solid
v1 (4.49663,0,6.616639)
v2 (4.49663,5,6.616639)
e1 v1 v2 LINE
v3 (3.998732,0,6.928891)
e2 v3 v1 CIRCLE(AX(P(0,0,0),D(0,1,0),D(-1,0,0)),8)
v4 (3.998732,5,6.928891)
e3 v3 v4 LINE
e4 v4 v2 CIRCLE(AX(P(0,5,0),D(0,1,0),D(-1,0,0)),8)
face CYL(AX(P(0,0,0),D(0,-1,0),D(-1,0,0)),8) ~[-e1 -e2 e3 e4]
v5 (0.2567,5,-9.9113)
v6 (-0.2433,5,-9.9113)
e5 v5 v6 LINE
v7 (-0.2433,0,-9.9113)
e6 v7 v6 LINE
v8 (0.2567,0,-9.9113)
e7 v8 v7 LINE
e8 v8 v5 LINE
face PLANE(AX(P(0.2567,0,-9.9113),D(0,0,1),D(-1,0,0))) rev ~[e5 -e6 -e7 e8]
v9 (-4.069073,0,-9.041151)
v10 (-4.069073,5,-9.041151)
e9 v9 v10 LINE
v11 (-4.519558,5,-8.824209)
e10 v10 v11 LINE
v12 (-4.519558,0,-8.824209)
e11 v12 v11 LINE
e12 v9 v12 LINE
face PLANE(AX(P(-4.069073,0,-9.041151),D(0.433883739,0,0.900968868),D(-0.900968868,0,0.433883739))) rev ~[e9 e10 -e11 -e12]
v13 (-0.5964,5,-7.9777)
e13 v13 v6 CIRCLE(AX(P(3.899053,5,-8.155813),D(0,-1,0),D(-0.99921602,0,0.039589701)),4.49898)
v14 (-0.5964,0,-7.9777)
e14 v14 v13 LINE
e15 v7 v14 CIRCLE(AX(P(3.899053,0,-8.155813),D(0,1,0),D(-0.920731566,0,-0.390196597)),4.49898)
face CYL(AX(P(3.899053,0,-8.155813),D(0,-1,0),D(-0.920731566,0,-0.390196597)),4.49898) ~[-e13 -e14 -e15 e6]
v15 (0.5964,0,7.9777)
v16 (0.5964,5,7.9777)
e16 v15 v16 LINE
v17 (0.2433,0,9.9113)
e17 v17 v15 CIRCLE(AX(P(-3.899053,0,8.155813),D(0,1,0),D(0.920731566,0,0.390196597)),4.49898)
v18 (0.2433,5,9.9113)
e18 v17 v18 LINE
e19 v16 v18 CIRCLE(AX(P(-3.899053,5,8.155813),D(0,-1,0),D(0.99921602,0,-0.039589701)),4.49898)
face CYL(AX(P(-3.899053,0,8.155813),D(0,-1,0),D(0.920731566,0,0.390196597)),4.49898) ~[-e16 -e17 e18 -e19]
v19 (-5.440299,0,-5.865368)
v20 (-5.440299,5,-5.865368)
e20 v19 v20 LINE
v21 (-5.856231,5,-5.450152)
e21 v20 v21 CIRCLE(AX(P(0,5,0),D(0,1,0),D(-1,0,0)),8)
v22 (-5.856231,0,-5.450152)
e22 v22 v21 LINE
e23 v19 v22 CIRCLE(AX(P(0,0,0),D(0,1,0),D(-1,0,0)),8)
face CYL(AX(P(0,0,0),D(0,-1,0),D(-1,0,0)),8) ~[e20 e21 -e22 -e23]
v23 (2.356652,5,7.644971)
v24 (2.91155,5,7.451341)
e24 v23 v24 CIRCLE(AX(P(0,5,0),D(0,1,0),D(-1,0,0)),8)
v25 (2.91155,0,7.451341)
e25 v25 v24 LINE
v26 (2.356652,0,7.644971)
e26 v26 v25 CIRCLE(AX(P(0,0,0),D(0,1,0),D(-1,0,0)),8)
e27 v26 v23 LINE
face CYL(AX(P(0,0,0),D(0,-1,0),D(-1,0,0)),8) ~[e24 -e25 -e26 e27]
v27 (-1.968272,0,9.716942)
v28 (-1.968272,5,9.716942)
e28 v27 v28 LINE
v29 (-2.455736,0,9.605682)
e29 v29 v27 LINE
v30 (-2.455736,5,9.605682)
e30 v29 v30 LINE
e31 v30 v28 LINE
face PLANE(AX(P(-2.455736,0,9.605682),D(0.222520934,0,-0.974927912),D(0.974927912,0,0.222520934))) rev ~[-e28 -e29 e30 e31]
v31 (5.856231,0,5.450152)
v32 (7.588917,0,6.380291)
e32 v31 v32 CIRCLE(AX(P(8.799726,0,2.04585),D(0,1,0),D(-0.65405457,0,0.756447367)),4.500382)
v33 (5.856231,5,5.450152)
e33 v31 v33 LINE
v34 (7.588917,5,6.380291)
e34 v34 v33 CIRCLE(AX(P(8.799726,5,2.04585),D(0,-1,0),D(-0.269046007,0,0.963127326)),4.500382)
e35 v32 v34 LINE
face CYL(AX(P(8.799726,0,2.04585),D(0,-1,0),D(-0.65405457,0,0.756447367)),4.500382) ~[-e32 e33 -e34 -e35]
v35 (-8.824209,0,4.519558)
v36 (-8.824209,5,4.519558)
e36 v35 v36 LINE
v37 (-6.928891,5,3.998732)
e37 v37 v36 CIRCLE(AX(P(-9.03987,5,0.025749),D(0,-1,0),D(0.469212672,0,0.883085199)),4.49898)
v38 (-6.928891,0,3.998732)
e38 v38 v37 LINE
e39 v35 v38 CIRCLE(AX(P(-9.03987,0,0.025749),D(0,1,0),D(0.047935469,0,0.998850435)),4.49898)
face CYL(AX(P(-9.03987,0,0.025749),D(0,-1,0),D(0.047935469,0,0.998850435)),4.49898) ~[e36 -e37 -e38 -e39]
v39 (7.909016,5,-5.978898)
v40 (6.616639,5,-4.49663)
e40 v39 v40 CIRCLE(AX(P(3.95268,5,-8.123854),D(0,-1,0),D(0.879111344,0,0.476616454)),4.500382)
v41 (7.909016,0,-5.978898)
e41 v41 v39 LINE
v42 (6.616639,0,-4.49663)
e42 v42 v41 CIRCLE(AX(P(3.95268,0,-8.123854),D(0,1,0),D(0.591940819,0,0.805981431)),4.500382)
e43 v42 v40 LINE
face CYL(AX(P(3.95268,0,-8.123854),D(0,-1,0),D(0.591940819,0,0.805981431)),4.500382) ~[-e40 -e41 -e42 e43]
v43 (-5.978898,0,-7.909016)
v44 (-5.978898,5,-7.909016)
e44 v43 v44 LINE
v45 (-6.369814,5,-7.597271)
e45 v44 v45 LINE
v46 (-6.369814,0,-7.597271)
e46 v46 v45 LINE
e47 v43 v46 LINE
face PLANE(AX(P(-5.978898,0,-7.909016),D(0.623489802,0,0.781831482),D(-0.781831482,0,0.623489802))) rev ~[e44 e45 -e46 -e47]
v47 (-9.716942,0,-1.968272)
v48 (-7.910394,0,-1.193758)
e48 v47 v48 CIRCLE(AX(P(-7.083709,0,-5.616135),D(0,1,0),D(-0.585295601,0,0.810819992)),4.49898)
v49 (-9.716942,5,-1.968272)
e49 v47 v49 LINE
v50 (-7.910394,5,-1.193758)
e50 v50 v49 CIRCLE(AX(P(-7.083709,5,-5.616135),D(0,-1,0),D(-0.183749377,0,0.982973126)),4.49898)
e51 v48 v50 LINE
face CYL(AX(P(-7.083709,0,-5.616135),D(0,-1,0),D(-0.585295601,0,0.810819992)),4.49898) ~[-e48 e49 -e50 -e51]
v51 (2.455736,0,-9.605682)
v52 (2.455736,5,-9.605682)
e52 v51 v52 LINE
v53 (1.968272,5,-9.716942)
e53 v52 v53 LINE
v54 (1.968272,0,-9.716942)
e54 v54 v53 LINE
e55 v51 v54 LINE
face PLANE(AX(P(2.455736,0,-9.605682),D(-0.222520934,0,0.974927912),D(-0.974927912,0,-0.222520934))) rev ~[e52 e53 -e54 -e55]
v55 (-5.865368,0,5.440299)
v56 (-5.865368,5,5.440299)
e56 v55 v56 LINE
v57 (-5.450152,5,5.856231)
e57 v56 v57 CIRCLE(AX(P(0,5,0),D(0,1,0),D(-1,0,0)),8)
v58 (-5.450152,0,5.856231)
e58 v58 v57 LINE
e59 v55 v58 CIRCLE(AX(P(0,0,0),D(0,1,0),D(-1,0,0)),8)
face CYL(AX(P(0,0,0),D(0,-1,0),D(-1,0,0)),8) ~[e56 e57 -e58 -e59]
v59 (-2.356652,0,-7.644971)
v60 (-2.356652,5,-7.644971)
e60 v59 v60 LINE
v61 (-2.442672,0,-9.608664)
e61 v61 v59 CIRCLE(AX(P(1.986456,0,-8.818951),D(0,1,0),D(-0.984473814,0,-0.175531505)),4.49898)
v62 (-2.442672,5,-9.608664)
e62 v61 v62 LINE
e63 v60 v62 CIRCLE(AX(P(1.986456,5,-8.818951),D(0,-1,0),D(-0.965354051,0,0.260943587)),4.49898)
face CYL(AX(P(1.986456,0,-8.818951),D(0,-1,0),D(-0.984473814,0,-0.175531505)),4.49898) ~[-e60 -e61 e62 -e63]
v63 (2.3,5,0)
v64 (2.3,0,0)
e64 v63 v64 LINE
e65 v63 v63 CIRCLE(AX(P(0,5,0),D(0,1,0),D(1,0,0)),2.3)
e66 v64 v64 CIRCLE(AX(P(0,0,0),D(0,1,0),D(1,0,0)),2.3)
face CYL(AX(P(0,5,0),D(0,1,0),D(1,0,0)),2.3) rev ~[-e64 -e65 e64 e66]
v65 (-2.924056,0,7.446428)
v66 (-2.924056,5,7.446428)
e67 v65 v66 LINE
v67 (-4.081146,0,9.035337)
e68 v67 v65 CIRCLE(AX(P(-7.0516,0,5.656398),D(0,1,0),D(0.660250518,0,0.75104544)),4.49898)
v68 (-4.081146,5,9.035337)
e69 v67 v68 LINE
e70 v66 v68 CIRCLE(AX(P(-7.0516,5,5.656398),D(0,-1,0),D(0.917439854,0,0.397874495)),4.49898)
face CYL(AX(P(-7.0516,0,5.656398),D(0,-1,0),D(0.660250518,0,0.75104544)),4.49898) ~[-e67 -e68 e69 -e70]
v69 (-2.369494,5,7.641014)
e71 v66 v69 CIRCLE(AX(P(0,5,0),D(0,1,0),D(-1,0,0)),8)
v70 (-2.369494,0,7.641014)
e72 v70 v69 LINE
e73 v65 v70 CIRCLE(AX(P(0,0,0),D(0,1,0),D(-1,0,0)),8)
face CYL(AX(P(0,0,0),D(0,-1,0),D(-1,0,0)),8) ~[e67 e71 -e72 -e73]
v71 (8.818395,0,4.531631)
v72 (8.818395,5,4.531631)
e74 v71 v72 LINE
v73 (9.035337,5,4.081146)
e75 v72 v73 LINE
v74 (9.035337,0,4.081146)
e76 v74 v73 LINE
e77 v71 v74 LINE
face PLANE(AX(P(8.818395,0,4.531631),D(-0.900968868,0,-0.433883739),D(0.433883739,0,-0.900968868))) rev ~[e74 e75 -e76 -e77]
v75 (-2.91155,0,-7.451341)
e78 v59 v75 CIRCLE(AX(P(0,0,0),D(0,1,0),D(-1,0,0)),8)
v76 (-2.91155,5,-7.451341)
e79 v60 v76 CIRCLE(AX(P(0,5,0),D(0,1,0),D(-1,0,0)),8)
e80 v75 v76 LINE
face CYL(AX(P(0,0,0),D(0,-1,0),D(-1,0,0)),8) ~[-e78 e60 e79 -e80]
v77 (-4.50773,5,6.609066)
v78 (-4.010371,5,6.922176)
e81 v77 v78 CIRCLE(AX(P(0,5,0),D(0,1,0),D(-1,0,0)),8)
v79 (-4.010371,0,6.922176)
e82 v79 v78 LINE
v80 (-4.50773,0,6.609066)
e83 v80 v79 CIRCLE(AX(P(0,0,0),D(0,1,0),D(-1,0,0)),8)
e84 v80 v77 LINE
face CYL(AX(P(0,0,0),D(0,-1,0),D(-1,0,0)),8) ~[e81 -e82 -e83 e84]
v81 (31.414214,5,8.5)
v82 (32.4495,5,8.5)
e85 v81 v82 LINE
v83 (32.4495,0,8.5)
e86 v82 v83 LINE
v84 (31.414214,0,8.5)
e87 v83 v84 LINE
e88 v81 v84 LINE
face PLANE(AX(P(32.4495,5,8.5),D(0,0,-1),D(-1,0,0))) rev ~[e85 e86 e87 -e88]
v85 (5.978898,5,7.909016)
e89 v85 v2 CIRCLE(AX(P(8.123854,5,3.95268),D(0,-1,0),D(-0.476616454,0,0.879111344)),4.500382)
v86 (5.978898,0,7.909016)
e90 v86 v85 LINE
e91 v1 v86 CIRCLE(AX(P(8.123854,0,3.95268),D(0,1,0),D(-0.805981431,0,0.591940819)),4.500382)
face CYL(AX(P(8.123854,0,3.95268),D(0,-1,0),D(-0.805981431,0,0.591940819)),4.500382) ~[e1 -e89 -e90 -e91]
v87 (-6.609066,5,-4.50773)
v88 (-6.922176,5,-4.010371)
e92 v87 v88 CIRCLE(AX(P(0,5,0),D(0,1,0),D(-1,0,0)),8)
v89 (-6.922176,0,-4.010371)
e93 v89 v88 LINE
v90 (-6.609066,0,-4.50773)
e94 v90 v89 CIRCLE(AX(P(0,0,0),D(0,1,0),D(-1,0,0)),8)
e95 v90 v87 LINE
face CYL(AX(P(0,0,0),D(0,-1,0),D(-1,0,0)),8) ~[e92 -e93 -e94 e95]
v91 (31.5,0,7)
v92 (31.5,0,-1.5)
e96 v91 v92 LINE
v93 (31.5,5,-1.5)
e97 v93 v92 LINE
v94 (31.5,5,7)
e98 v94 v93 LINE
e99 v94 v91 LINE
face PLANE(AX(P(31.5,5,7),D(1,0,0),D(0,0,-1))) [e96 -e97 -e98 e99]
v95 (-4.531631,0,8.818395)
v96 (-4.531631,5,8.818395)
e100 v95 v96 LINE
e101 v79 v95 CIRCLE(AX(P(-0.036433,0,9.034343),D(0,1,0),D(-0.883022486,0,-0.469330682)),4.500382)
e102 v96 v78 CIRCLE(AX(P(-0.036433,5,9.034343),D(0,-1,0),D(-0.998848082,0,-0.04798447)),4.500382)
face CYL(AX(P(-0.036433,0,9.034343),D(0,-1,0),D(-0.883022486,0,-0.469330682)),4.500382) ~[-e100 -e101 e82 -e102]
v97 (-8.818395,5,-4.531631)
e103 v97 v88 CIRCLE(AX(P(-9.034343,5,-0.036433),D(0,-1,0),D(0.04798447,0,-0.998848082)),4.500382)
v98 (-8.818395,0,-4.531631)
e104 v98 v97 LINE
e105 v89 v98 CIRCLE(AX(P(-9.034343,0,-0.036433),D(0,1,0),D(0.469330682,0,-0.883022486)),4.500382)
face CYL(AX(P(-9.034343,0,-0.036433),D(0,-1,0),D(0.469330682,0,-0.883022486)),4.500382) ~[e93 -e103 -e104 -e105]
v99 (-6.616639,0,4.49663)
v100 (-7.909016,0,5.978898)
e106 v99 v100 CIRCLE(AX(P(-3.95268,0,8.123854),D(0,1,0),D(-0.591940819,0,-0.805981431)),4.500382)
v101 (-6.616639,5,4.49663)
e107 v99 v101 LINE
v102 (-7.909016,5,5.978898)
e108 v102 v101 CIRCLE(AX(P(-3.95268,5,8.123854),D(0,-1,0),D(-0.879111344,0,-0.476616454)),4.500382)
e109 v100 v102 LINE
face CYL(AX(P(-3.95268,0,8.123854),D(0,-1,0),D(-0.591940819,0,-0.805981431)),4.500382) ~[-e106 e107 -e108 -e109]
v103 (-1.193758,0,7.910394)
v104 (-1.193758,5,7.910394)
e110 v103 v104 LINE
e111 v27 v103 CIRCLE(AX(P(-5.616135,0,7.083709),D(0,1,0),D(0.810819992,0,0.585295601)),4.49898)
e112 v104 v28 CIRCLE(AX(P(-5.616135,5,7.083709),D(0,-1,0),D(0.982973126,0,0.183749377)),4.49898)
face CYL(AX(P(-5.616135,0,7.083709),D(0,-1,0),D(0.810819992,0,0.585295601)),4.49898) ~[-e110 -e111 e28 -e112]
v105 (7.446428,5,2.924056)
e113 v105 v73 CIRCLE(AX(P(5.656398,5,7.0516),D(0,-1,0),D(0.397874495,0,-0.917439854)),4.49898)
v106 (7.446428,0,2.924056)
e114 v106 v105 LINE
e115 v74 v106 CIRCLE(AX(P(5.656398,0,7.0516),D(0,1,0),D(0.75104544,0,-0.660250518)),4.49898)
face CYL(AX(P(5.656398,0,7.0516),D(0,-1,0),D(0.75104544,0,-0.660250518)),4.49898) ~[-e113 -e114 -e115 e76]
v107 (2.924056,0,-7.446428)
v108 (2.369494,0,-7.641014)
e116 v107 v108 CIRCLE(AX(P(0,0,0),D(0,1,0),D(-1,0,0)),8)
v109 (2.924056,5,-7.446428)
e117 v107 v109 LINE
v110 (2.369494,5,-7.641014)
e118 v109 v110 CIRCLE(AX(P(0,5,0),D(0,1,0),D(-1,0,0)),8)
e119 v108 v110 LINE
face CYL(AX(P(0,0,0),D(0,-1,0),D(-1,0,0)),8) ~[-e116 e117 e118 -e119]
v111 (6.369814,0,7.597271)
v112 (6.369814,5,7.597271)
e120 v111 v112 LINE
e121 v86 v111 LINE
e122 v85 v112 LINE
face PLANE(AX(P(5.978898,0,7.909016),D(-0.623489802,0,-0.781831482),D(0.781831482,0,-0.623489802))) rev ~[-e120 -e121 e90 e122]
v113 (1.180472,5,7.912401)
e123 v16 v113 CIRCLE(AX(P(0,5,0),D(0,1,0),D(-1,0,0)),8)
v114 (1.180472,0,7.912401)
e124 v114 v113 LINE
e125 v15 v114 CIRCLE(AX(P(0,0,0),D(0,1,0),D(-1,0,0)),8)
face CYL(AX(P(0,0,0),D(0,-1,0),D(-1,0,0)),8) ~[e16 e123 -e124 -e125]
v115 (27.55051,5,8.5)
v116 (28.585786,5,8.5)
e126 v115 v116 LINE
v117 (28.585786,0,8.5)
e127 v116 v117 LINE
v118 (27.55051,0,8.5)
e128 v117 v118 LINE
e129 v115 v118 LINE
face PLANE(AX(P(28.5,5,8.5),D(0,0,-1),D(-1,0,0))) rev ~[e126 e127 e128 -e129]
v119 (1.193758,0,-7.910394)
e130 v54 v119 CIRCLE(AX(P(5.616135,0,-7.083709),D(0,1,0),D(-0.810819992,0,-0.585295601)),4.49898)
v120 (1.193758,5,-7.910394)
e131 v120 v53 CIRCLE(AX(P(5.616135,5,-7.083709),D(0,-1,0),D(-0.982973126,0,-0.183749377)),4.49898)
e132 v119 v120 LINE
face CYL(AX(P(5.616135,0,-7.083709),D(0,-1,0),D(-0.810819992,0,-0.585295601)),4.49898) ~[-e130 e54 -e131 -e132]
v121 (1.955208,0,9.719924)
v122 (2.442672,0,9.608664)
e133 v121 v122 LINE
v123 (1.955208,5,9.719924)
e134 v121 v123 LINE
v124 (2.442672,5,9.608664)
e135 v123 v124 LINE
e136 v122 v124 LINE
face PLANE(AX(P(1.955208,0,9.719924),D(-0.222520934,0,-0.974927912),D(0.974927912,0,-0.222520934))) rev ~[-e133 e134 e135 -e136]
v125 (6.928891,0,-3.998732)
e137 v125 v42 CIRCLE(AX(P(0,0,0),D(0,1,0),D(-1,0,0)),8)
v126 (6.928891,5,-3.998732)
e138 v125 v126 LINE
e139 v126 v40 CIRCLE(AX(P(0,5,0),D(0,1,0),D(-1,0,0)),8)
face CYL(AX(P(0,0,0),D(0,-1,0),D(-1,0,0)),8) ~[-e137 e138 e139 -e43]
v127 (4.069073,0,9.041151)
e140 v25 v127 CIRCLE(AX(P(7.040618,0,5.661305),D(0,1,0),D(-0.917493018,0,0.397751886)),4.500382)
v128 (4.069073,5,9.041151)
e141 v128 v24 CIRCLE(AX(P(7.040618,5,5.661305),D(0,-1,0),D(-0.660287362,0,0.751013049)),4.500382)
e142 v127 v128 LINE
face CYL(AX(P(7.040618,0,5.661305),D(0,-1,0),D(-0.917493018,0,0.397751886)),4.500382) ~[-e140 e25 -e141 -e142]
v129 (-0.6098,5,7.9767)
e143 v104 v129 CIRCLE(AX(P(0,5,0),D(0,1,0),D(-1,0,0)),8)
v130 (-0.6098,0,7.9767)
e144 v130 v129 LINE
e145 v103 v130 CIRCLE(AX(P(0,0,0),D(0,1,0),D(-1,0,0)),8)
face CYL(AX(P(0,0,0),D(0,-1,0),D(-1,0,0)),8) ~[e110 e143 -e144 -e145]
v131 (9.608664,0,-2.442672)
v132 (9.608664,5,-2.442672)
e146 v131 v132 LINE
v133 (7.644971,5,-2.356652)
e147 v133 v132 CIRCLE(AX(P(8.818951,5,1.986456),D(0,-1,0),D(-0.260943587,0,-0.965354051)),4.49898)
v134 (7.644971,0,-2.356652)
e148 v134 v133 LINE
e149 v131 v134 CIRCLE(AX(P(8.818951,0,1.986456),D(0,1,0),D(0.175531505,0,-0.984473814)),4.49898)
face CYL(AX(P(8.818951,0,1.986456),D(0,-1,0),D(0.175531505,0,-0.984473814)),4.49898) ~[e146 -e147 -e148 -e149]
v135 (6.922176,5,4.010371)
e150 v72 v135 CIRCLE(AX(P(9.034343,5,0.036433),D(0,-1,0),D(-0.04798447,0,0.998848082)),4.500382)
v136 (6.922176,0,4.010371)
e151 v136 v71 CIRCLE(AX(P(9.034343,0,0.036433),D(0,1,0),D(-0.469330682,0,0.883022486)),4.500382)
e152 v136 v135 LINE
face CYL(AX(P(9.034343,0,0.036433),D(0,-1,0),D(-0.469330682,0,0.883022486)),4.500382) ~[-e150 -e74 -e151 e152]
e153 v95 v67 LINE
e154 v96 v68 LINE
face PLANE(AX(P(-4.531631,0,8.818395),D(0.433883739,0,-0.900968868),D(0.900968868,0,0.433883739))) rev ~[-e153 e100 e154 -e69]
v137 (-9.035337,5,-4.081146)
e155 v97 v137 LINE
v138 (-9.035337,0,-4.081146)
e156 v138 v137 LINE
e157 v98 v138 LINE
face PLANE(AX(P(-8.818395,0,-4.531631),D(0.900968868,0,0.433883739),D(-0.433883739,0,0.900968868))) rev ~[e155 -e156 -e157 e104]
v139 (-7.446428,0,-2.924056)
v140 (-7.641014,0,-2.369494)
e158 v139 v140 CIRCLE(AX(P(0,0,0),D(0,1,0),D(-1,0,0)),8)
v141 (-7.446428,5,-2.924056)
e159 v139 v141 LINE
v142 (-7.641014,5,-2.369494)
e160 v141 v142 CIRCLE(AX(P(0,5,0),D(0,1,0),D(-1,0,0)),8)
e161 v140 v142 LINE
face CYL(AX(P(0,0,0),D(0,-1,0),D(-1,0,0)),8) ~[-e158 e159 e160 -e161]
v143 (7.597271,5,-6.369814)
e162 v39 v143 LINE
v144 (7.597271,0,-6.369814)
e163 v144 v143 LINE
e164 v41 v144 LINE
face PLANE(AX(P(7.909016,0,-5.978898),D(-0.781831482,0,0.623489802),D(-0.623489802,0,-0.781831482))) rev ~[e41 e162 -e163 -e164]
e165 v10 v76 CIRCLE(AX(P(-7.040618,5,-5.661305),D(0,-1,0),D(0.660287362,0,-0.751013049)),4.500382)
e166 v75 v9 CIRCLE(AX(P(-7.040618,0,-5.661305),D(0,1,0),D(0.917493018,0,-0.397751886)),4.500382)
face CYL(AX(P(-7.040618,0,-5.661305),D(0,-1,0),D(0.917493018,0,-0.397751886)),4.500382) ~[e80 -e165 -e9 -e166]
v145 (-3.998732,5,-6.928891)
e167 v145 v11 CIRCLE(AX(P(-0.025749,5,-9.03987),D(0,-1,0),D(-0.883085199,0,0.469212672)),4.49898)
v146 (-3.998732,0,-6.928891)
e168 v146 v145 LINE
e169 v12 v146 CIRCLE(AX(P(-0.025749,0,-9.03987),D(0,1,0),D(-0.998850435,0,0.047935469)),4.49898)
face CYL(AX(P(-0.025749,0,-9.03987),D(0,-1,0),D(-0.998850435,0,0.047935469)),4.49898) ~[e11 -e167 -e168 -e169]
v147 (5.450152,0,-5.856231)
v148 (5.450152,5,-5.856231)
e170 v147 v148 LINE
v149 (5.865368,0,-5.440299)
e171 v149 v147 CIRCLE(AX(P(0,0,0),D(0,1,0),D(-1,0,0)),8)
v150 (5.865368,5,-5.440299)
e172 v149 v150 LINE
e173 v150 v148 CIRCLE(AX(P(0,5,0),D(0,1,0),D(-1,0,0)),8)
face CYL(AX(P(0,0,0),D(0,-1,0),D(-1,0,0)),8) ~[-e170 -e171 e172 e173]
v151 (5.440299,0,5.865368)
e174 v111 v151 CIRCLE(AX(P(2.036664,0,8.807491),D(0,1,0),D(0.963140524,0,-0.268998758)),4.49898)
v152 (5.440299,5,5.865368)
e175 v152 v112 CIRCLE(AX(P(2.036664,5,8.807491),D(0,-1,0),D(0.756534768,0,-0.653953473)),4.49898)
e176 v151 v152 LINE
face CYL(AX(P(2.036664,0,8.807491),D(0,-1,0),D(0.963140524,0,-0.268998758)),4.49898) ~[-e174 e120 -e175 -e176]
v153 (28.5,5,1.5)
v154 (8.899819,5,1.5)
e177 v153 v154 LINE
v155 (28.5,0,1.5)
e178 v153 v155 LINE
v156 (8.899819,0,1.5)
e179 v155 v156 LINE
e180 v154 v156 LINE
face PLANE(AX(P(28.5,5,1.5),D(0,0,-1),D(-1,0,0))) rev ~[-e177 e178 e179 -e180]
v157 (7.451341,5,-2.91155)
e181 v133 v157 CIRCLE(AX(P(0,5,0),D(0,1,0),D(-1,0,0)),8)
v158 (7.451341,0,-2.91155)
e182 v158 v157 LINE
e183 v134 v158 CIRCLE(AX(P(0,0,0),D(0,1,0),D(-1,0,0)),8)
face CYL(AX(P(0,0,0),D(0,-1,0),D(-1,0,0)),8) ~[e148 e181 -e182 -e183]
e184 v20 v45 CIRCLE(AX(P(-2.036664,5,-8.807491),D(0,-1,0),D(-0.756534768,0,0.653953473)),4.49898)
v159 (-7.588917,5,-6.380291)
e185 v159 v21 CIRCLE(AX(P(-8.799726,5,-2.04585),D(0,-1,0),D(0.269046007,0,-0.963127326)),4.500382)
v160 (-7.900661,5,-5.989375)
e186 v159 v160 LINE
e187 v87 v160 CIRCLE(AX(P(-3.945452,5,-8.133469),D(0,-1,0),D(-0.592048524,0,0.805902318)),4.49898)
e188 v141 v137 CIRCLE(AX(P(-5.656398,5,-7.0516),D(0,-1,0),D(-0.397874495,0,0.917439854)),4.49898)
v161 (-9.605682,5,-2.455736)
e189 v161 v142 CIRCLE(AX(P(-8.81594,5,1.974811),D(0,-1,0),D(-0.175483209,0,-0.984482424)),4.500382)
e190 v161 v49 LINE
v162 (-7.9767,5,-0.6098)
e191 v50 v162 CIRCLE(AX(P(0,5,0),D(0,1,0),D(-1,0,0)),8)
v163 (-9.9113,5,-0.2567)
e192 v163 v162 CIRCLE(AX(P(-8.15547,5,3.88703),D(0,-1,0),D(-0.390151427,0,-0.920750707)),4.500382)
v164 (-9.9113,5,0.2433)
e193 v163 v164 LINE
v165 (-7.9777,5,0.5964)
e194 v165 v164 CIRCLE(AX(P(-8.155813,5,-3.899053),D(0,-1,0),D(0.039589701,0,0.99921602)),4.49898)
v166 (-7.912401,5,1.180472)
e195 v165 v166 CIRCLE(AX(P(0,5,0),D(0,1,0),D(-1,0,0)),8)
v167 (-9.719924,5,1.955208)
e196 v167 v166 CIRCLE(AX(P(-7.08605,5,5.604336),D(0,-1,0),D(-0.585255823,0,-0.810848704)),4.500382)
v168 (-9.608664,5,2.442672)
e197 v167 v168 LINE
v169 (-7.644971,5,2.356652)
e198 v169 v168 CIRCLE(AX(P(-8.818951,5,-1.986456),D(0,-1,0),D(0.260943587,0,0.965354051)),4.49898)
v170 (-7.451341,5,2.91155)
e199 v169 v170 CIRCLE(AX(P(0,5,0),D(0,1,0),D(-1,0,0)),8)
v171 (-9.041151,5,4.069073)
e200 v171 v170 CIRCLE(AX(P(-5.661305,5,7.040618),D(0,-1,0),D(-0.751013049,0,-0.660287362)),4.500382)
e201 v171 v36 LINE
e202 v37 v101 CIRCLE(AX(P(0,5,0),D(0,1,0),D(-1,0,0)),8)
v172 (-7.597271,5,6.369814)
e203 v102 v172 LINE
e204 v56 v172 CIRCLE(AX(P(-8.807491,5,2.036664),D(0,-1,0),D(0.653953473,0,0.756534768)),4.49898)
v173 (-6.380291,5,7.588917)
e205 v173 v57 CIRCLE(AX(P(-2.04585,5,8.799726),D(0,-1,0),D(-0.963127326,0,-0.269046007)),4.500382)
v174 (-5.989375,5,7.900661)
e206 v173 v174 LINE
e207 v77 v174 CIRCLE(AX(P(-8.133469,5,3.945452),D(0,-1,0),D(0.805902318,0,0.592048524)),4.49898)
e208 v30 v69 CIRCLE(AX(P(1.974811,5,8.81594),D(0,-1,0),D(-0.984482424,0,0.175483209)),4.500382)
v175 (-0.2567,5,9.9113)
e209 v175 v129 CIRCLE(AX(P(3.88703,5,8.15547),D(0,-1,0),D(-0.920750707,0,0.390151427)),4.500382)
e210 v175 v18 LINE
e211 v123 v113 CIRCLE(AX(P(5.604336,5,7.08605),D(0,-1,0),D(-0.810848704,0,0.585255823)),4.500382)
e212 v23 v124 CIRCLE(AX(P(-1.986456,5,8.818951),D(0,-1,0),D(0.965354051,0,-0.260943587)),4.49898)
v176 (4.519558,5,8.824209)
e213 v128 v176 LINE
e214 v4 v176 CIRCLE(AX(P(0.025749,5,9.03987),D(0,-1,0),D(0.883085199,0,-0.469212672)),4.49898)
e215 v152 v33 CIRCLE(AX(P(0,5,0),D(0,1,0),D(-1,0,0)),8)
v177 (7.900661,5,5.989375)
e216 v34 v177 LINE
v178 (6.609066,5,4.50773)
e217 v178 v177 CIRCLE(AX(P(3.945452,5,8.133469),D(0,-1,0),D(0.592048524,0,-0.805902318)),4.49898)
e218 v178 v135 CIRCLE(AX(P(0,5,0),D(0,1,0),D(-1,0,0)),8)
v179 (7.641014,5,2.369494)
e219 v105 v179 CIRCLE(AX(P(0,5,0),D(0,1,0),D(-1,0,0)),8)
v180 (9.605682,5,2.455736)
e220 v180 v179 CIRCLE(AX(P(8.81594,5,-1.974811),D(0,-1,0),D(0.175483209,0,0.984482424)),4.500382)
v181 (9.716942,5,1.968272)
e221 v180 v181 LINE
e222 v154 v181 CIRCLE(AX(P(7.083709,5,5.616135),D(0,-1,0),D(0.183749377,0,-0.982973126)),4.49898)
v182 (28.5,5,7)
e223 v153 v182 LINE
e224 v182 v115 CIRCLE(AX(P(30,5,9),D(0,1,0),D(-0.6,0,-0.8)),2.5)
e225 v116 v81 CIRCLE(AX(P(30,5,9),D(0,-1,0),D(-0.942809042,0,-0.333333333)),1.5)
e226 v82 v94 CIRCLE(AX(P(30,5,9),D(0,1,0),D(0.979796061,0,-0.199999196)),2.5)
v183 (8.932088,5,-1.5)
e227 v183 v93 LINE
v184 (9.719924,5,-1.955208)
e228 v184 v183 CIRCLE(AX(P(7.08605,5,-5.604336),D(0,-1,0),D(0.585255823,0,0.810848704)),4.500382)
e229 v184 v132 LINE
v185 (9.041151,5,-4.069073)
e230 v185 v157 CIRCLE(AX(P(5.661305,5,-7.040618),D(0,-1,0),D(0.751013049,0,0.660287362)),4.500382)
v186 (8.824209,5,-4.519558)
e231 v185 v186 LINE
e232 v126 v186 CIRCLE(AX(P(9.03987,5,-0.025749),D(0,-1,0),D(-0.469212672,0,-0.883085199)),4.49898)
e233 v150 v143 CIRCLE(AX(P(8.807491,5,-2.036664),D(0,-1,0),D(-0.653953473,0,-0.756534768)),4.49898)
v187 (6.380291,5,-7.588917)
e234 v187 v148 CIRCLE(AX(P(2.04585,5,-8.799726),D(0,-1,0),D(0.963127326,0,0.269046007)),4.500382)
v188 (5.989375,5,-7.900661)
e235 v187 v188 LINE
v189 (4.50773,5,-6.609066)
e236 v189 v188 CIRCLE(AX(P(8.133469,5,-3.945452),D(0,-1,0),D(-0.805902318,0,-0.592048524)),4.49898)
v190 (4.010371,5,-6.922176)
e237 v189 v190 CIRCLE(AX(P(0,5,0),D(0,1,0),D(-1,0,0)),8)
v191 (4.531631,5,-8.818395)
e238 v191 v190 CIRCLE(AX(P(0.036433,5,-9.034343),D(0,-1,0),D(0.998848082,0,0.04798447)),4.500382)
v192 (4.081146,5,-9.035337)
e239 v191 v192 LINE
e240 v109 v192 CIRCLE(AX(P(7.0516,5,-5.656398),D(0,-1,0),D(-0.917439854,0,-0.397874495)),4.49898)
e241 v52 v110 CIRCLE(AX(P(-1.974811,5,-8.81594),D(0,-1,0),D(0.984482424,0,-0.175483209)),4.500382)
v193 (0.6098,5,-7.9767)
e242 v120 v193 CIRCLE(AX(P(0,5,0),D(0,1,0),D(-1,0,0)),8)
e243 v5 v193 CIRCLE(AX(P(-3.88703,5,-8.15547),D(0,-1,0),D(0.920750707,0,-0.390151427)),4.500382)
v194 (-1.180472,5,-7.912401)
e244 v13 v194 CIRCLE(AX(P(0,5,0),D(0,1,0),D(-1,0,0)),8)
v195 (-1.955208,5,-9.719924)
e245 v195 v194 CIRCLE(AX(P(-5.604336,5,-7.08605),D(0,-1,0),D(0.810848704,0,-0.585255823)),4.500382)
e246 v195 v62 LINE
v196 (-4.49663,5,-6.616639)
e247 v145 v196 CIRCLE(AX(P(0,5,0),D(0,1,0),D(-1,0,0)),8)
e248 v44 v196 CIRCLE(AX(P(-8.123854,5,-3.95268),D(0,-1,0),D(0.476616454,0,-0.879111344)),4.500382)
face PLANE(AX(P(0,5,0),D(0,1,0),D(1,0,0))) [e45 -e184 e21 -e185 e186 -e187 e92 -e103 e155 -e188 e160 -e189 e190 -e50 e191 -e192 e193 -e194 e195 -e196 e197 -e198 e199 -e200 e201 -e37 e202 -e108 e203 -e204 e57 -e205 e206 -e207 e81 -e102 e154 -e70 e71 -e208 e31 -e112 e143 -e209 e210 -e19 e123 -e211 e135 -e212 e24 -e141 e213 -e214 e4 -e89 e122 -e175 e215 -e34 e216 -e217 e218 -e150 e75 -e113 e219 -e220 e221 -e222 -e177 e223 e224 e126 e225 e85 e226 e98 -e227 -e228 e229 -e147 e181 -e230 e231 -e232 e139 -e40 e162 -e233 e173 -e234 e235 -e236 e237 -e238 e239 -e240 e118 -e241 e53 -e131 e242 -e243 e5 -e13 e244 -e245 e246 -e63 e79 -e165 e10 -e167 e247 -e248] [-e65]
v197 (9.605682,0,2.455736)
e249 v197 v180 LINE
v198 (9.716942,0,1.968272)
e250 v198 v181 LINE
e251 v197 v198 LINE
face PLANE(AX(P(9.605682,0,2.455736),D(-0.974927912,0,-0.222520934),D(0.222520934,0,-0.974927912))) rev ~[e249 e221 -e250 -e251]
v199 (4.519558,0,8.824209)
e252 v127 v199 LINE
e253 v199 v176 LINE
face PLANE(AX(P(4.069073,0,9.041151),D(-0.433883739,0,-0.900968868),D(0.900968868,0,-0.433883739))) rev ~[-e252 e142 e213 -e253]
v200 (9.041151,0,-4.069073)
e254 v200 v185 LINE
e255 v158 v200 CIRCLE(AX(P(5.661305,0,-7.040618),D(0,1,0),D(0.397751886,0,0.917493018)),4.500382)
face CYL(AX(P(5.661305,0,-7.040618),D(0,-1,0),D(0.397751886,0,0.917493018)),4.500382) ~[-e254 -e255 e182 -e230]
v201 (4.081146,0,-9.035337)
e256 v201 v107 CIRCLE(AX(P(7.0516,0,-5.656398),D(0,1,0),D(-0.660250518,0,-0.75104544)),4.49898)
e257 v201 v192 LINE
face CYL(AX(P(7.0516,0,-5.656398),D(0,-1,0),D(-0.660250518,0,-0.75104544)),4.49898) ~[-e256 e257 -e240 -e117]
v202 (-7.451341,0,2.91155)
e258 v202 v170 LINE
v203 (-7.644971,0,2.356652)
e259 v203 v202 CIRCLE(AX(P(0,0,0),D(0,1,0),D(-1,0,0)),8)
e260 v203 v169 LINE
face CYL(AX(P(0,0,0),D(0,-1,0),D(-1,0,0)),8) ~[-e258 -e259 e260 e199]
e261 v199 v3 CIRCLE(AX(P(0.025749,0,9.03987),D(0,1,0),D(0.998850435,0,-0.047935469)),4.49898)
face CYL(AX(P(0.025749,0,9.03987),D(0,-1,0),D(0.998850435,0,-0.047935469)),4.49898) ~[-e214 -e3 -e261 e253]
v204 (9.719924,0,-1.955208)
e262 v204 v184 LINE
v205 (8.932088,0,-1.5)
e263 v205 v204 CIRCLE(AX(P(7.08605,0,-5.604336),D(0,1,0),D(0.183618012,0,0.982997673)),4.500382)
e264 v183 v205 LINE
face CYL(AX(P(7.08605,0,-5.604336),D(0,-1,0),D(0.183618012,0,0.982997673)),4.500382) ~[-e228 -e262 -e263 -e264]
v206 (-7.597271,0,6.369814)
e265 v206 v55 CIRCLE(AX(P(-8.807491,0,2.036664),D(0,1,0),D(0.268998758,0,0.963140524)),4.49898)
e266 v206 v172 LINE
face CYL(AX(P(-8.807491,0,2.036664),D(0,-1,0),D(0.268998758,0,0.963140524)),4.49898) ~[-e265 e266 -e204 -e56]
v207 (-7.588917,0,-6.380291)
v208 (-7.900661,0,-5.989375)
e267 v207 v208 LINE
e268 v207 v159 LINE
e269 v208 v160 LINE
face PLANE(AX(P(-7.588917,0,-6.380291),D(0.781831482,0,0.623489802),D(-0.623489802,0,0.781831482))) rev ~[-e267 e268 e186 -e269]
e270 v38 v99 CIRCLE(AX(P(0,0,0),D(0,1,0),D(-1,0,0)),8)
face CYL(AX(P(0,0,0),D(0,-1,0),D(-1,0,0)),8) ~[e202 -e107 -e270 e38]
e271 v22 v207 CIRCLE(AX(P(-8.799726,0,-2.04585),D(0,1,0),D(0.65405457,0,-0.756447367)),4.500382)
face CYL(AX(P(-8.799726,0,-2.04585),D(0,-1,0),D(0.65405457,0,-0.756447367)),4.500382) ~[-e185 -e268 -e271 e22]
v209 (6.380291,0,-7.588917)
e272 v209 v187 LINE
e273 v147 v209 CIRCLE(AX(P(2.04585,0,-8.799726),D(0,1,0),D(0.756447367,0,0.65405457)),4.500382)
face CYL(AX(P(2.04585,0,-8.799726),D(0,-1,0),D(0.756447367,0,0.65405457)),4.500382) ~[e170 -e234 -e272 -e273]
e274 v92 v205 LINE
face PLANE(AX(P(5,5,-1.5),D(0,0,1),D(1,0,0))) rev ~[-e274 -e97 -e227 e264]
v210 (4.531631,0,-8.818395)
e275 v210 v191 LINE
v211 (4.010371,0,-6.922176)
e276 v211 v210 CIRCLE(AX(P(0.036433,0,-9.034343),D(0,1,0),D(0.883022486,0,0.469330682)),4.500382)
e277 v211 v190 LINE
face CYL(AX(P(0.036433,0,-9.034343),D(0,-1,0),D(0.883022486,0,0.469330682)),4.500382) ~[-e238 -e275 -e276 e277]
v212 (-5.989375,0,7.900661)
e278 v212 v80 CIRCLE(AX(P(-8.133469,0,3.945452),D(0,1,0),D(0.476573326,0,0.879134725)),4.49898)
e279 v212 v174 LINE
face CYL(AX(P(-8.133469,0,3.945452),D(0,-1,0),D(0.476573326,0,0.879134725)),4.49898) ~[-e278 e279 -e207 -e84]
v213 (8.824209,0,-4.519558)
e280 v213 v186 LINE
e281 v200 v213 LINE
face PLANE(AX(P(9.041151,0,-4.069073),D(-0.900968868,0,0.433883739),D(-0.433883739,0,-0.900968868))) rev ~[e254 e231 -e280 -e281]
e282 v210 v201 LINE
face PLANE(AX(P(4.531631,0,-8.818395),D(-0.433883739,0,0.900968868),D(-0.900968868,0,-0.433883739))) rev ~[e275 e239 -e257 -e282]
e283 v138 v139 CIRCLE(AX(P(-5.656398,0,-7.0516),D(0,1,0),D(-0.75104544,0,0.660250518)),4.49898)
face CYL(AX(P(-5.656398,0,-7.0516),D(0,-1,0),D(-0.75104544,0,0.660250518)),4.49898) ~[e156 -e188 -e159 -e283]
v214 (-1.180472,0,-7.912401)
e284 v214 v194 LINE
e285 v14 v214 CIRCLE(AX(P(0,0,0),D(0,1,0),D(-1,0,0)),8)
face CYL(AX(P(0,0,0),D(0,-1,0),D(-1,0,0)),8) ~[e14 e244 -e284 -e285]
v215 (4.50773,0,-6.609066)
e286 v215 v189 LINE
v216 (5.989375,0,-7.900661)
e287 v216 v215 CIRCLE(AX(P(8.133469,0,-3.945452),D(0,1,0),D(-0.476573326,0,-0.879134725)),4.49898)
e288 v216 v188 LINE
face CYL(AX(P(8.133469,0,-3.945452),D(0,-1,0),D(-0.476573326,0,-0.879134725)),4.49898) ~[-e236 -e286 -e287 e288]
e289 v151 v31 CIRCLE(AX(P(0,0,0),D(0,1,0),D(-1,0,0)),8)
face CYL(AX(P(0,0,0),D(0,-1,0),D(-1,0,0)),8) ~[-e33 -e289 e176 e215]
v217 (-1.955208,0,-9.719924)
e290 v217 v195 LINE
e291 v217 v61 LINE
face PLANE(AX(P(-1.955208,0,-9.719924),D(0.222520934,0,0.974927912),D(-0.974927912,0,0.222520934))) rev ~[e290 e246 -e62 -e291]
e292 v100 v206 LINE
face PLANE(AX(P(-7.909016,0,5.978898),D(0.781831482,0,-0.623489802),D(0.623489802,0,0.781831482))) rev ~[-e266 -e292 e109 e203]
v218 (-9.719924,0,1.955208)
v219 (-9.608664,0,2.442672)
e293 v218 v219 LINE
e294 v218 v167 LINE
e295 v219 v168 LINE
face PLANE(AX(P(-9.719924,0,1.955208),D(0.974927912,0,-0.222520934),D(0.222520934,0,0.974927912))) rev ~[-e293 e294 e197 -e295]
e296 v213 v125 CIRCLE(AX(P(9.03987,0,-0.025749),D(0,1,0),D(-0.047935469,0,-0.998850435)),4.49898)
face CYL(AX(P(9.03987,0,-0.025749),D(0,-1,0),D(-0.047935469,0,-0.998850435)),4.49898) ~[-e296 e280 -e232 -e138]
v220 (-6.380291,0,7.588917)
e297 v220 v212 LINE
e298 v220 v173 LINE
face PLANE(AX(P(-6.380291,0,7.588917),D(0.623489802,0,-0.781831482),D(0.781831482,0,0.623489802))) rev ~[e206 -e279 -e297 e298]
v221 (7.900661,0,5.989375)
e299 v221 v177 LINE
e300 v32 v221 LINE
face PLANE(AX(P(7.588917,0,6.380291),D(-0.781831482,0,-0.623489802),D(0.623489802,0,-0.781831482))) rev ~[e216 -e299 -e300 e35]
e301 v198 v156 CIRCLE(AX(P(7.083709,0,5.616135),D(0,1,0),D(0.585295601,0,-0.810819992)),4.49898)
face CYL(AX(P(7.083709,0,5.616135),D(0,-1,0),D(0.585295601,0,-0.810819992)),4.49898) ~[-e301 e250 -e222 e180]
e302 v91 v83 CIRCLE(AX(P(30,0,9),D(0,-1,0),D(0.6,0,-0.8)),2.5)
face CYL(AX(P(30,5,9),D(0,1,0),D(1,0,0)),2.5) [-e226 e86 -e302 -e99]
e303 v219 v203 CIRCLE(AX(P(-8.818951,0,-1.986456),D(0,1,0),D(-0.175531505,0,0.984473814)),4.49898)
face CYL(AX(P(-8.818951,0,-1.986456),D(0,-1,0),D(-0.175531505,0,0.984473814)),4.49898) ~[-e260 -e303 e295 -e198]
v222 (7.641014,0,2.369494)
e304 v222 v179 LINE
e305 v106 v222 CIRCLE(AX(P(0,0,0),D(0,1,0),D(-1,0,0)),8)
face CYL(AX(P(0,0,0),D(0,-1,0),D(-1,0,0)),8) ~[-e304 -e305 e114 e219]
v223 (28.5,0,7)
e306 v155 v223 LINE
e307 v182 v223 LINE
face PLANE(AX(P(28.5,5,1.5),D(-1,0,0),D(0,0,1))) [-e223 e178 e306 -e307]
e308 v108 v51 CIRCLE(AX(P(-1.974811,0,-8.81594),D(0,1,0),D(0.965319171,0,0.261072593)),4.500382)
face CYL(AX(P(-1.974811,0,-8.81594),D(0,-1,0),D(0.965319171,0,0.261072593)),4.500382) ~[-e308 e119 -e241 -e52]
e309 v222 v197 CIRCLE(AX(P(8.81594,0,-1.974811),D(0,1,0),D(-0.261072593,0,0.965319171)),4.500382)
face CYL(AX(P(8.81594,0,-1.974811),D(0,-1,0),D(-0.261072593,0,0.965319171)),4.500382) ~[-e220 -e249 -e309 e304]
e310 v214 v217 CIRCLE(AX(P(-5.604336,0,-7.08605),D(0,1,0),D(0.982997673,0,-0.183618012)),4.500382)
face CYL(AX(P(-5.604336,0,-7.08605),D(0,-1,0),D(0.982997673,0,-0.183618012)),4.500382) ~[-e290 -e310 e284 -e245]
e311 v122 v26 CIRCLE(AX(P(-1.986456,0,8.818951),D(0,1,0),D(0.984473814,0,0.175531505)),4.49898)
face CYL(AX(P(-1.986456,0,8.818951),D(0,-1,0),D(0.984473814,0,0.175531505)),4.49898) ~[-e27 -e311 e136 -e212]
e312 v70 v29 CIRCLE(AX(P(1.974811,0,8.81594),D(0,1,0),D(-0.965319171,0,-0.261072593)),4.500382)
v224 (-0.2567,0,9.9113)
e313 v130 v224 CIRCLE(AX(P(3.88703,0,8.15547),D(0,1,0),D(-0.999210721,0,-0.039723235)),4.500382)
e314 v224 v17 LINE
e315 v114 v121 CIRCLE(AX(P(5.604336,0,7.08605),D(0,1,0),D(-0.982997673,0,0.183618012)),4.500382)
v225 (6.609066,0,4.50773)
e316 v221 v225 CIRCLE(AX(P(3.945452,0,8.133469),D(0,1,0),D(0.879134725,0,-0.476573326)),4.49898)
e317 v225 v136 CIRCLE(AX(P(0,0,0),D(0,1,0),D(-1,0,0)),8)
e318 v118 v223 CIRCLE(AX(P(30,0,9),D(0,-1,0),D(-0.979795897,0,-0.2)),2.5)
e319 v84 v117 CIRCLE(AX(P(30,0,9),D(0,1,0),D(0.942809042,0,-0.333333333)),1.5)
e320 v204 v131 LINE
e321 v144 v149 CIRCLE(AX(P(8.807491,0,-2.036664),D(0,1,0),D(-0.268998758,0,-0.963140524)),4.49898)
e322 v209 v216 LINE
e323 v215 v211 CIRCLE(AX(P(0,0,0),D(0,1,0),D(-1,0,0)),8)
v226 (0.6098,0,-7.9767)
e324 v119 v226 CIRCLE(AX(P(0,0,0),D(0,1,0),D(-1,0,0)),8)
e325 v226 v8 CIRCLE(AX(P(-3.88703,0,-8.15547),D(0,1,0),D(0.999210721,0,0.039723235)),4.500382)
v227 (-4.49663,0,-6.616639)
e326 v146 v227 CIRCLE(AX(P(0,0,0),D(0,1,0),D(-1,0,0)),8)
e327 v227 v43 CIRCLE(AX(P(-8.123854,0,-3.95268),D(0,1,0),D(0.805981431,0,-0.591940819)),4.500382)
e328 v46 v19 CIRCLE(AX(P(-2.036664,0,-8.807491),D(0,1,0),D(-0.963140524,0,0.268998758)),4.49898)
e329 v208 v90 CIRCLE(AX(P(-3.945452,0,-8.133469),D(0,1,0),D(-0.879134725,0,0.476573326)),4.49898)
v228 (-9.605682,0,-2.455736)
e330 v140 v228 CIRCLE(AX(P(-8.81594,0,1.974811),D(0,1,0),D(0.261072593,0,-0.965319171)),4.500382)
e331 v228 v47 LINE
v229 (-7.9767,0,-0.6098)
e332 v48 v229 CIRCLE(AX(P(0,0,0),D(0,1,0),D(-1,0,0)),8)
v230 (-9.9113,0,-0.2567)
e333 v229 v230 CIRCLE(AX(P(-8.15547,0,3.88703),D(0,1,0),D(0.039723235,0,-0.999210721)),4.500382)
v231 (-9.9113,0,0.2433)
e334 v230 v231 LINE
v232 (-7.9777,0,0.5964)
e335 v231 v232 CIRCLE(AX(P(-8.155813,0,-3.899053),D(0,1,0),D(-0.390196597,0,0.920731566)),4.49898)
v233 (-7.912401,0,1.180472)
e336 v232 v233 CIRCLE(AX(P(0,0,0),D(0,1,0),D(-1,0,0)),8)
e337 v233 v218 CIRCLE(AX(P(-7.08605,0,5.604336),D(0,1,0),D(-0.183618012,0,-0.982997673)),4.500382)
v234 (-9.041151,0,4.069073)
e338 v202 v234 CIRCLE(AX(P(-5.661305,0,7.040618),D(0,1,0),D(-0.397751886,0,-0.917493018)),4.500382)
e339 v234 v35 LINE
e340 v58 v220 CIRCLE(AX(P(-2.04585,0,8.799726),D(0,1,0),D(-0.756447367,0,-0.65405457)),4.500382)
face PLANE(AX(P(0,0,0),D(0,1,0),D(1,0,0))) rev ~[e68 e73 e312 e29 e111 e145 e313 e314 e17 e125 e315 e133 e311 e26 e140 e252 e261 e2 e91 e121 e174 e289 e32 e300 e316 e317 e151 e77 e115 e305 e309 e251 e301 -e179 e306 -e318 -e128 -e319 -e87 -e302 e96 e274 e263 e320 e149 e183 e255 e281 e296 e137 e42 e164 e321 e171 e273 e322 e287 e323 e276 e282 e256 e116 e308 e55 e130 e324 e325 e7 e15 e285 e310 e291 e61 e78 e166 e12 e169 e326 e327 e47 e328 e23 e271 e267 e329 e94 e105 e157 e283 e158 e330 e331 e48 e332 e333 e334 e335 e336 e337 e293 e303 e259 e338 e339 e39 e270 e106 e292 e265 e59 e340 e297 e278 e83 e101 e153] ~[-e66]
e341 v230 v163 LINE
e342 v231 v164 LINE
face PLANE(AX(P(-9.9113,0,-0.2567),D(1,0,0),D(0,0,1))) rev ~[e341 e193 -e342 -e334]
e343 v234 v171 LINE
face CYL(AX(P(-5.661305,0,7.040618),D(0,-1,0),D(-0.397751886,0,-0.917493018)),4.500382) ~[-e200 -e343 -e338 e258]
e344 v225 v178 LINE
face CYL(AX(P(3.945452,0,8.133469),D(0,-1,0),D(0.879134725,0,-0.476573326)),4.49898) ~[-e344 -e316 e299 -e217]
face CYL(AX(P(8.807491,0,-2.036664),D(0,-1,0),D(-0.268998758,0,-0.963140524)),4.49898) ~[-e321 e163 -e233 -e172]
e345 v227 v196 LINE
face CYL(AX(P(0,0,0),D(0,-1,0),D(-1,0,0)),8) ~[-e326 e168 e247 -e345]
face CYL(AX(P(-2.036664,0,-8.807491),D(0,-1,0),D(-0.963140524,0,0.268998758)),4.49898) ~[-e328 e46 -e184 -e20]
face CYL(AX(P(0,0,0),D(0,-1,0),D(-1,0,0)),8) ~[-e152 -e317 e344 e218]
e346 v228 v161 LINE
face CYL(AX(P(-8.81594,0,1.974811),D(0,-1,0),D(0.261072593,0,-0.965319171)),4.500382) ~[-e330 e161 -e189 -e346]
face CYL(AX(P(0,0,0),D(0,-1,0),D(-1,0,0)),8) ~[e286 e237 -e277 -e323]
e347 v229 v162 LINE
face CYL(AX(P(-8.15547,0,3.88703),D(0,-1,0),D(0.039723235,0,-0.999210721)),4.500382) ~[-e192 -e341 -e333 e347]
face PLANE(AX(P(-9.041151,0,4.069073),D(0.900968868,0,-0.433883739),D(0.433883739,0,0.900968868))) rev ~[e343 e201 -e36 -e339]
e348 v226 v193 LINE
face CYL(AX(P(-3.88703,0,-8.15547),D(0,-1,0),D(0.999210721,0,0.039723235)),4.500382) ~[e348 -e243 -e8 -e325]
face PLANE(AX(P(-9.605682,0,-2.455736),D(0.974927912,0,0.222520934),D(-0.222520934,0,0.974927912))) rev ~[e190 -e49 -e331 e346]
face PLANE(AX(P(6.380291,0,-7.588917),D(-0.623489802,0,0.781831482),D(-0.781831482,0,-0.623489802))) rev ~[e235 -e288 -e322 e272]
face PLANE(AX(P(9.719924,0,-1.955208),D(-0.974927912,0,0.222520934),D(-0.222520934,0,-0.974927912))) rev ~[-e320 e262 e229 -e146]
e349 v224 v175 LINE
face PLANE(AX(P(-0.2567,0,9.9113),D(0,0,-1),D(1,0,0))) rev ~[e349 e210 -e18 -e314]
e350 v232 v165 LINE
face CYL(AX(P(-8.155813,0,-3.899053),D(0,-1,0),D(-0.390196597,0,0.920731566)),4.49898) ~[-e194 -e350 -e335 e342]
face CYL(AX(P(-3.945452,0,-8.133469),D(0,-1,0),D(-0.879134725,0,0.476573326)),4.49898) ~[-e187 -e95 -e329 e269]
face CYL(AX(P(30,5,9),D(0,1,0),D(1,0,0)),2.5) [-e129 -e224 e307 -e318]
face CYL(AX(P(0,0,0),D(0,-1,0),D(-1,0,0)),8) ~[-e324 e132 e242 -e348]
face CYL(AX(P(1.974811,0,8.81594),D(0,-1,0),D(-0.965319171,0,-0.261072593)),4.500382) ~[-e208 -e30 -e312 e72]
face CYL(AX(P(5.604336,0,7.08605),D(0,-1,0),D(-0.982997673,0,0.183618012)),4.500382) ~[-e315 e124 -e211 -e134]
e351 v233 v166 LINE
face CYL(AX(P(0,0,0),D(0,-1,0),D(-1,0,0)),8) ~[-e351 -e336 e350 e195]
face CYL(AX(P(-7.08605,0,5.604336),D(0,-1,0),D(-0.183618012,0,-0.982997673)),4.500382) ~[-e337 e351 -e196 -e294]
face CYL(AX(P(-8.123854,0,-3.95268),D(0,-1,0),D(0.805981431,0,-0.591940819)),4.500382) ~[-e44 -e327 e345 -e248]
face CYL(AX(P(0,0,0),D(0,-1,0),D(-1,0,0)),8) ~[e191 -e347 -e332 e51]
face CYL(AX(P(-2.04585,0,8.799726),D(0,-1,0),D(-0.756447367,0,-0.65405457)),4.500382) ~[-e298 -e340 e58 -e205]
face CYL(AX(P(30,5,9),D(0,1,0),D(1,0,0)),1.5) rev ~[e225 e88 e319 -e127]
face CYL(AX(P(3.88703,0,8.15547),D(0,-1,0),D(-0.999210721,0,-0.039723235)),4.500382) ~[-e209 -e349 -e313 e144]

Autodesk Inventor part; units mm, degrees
ref_plane "YZ Plane" through (0, 0, 0) normal (1, 0, 0) x (0, 1, 0)
ref_plane "XZ Plane" through (0, 0, 0) normal (0, 1, 0) x (-1, 0, 0)
ref_plane "XY Plane" through (0, 0, 0) normal (0, 0, 1) x (1, 0, 0)
sketch "Sketch1" plane through (0, 0, 0) normal (0, 1, 0) x (-1, 0, 0)
  circle A0 centre (0, 0) radius 8
  circle A1 centre (0, 0) radius 2
  line L0 (7.9113, 0.5933) -> (7.9113, -0.6067)
  line L1 (9.9113, -0.2567) -> (9.9113, 0.2433)
  line L2 (7.6237, -0.0067) -> (9.0479, -0.0067) construction
  arc A2 (9.9113, 0.2433) -> (7.9113, 0.5933) centre (8.1555, -3.9001) ccw construction
  arc A3 (7.9113, -0.6067) -> (9.9113, -0.2567) centre (8.1555, 3.8866) ccw construction
  arc A4 (9.9113, 0.2433) -> (7.9113, 0.5933) centre (8.1555, -3.9001) ccw construction
  arc A5 (9.9113, 0.2433) -> (7.9777, 0.5964) centre (8.1555, -3.9001) ccw
  arc A6 (7.9767, -0.6098) -> (9.9113, -0.2567) centre (8.1555, 3.8866) ccw
  line L3 (9.4, 0) -> (9.4, -0.4379)
  line L4 (9.4, 0) -> (9.4, 0.4244)
  arc A7 (5.296, -1.8919) -> (5.296, 1.8784) centre (4.6281, -0.0067) ccw
  circle A8 centre (0, 0) radius 8
  dimension "d0" = 16
  dimension "d1" = 4
  dimension "d2" = 0.25
  dimension "d3" = 0.25
  dimension "d4" = 0.6
  dimension "d7" = 1.2
  dimension "d8" = 4.5
  dimension "d10" = 2
extrude "Extrusion1" add sketch "Sketch1" along normal blind 5
pattern_circular "Circular Pattern1" count 28 over 360 about axis through (0, 0, 0) along (0, 1, 0) of "Extrusion1"
sketch "Sketch8" plane through (0, 5, 0) normal (0, 1, 0) x (1, 0, 0)
  circle A0 centre (0, 0) radius 2.5
  circle A1 centre (0, 0) radius 2
  dimension "d49" = 5
  dimension "d50" = 4
extrude "Extrusion6" cut sketch "Sketch8" against normal blind 13.8125
sketch "Sketch9" plane through (0, 5, 0) normal (0, 1, 0) x (1, 0, 0)
  circle A0 centre (0, 0) radius 2.5 projected
  line L0 (0, 0) -> (30, 0)
  line L1 (30, 0) -> (30, -18)
  line L2 (30, -18) -> (0, -18)
  line L3 (0, -18) -> (0, 0)
  circle A1 centre (0, 0) radius 9.5
  circle A2 centre (0, -18) radius 9.5
  line L4 (30, -9) -> (0, -9)
  circle A3 centre (30, -9) radius 2.5
  line L5 (30, 0) -> (5, 0)
  line L6 (5, 0) -> (5, -1.5)
  line L7 (5, -1.5) -> (30, -1.5)
  line L8 (30, -1.5) -> (30, 0)
  line L9 (5, 0) -> (30, 0)
  line L10 (30, 0) -> (30, 1.5)
  line L11 (30, 1.5) -> (5, 1.5)
  line L12 (5, 1.5) -> (5, 0)
  line L13 (30, 1.5) -> (31.5, 1.5)
  line L14 (31.5, 1.5) -> (31.5, -7.5)
  line L15 (31.5, -7.5) -> (30, -7.5)
  line L16 (30, -7.5) -> (30, 1.5)
  line L17 (30, 1.5) -> (28.5, 1.5)
  line L18 (28.5, 1.5) -> (28.5, -7.5)
  line L19 (28.5, -7.5) -> (30, -7.5)
  line L20 (30, -7.5) -> (30, 1.5)
  circle A4 centre (30, -9) radius 1.5
  line L21 (27.5, -9) -> (32.5, -9)
  line L22 (32.5, -9) -> (32.5, -8.5)
  line L23 (32.5, -8.5) -> (27.5, -8.5)
  line L24 (27.5, -8.5) -> (27.5, -9)
  line L25 (28.5, -7.5) -> (27.5, -8.5)
  line L26 (31.5, -7.5) -> (32.5, -8.5)
  line L27 (27.5, -8.5) -> (28.5, -8.5)
  line L28 (32.5, -8.5) -> (31.5, -8.5)
  line L29 (28.5, -7.5) -> (29, -7.5)
  line L30 (31.5, -7.5) -> (31, -7.5)
  line L31 (31, -7.5) -> (31.5, -8.5)
  line L32 (29, -7.5) -> (28.5, -8.5)
  line L33 (5, 1.5) -> (12.096, 1.5)
  line L34 (12.096, 1.5) -> (12.096, -1.5)
  line L35 (12.096, -1.5) -> (5, -1.5)
  line L36 (5, -1.5) -> (5, 1.5)
  dimension "d57" = 5
  dimension "d53" = 30
  dimension "d54" = 18
  dimension "d55" = 19
  dimension "d56" = 19
  dimension "d58" = 25
  dimension "d59" = 1.5
  dimension "d60" = 1.5
  dimension "d61" = 1.5
  dimension "d62" = 9
  dimension "d63" = 1.5
  dimension "d64" = 3
  dimension "d65" = 5
  dimension "d66" = 0.5
  dimension "d67" = 0.5
  dimension "d68" = 0.5
extrude "Extrusion7" cut sketch "Sketch9" against normal blind 5 contours L12 L11 A1 L0 | L0 A1 L7 L6 | A1 L11 L34 L0 | L0 L34 L7 A1
sketch "Sketch10" plane through (0, 5, 0) normal (0, 1, 0) x (1, 0, 0)
  circle A0 centre (0, 0) radius 2.5 projected
  line L0 (0, 0) -> (30, 0)
  line L1 (30, 0) -> (30, -9)
  line L2 (30, -9) -> (0, -9)
  line L3 (0, -9) -> (0, 0)
  line L4 (5, 1.5) -> (30, 1.5)
  line L5 (30, 1.5) -> (30, -1.5)
  line L6 (30, -1.5) -> (5, -1.5)
  line L7 (5, -1.5) -> (5, 1.5)
  line L8 (31.5, 1.5) -> (28.5, 1.5)
  line L9 (28.5, 1.5) -> (28.5, -7.5)
  line L10 (28.5, -7.5) -> (31.5, -7.5)
  line L11 (31.5, -7.5) -> (31.5, 1.5)
  circle A1 centre (30, -9) radius 1.5
  circle A2 centre (30, -9) radius 2.5
  line L12 (27.5, -9) -> (32.4495, -9)
  line L13 (32.4495, -9) -> (32.4495, -8.5)
  line L14 (27.5, -8.5) -> (27.5, -9)
  line L15 (27.5, -9) -> (32.5, -9)
  line L16 (32.5, -9) -> (32.5, -8.5)
  line L17 (32.5, -8.5) -> (27.5, -8.5)
  line L18 (27.5, -8.5) -> (27.5, -9)
  line L19 (28.5, -7.5) -> (27.5, -8.5)
  line L20 (31.5, -7.5) -> (32.5, -8.5)
  line L21 (28.5, -7.5) -> (29, -7.5)
  line L22 (31.5, -7.5) -> (31, -7.5)
  line L23 (29, -7.5) -> (28.5, -8.5)
  line L24 (31, -7.5) -> (31.5, -8.5)
  point P0 (28.5, -1.5)
  point P1 (28.5, -7)
  point P2 (27.5505, -8.5)
  point P3 (28.5858, -8.5)
  point P4 (31.4142, -8.5)
  point P5 (31.5, -7)
  dimension "d71" = 30
  dimension "d72" = 9
  dimension "d73" = 3
  dimension "d74" = 3
  dimension "d75" = 9
  dimension "d76" = 3
  dimension "d77" = 5
  dimension "d78" = 0.5
  dimension "d79" = 5
  dimension "d80" = 0.5
  dimension "d81" = 0.5
extrude "Extrusion8" add sketch "Sketch10" against normal blind 5 contours L7 L4 L9 L0 | L0 L9 L6 L7 | L9 L4 L5 L0 | L0 L1 L6 L9 | L5 L8 L11 A2 L1 | L6 L1 A2 L9 | A2 L19 L10 L23 L17 | A2 L1 L10 L9 | L9 L19 A2 | L17 L23 L10 A1 | L17 L24 L10 L20 A2 | A2 L11 L10 L1 | L10 L24 L17 A1 | L20 L11 A2
sketch "Sketch11" plane through (0, 5, 0) normal (0, 1, 0) x (1, 0, 0)
  circle A0 centre (0, 0) radius 2.5
  circle A1 centre (0, 0) radius 2.3
  dimension "d84" = 4.6
extrude "Extrusion9" add sketch "Sketch11" against normal blind 5
properties part number "NewConceptArm servo"
